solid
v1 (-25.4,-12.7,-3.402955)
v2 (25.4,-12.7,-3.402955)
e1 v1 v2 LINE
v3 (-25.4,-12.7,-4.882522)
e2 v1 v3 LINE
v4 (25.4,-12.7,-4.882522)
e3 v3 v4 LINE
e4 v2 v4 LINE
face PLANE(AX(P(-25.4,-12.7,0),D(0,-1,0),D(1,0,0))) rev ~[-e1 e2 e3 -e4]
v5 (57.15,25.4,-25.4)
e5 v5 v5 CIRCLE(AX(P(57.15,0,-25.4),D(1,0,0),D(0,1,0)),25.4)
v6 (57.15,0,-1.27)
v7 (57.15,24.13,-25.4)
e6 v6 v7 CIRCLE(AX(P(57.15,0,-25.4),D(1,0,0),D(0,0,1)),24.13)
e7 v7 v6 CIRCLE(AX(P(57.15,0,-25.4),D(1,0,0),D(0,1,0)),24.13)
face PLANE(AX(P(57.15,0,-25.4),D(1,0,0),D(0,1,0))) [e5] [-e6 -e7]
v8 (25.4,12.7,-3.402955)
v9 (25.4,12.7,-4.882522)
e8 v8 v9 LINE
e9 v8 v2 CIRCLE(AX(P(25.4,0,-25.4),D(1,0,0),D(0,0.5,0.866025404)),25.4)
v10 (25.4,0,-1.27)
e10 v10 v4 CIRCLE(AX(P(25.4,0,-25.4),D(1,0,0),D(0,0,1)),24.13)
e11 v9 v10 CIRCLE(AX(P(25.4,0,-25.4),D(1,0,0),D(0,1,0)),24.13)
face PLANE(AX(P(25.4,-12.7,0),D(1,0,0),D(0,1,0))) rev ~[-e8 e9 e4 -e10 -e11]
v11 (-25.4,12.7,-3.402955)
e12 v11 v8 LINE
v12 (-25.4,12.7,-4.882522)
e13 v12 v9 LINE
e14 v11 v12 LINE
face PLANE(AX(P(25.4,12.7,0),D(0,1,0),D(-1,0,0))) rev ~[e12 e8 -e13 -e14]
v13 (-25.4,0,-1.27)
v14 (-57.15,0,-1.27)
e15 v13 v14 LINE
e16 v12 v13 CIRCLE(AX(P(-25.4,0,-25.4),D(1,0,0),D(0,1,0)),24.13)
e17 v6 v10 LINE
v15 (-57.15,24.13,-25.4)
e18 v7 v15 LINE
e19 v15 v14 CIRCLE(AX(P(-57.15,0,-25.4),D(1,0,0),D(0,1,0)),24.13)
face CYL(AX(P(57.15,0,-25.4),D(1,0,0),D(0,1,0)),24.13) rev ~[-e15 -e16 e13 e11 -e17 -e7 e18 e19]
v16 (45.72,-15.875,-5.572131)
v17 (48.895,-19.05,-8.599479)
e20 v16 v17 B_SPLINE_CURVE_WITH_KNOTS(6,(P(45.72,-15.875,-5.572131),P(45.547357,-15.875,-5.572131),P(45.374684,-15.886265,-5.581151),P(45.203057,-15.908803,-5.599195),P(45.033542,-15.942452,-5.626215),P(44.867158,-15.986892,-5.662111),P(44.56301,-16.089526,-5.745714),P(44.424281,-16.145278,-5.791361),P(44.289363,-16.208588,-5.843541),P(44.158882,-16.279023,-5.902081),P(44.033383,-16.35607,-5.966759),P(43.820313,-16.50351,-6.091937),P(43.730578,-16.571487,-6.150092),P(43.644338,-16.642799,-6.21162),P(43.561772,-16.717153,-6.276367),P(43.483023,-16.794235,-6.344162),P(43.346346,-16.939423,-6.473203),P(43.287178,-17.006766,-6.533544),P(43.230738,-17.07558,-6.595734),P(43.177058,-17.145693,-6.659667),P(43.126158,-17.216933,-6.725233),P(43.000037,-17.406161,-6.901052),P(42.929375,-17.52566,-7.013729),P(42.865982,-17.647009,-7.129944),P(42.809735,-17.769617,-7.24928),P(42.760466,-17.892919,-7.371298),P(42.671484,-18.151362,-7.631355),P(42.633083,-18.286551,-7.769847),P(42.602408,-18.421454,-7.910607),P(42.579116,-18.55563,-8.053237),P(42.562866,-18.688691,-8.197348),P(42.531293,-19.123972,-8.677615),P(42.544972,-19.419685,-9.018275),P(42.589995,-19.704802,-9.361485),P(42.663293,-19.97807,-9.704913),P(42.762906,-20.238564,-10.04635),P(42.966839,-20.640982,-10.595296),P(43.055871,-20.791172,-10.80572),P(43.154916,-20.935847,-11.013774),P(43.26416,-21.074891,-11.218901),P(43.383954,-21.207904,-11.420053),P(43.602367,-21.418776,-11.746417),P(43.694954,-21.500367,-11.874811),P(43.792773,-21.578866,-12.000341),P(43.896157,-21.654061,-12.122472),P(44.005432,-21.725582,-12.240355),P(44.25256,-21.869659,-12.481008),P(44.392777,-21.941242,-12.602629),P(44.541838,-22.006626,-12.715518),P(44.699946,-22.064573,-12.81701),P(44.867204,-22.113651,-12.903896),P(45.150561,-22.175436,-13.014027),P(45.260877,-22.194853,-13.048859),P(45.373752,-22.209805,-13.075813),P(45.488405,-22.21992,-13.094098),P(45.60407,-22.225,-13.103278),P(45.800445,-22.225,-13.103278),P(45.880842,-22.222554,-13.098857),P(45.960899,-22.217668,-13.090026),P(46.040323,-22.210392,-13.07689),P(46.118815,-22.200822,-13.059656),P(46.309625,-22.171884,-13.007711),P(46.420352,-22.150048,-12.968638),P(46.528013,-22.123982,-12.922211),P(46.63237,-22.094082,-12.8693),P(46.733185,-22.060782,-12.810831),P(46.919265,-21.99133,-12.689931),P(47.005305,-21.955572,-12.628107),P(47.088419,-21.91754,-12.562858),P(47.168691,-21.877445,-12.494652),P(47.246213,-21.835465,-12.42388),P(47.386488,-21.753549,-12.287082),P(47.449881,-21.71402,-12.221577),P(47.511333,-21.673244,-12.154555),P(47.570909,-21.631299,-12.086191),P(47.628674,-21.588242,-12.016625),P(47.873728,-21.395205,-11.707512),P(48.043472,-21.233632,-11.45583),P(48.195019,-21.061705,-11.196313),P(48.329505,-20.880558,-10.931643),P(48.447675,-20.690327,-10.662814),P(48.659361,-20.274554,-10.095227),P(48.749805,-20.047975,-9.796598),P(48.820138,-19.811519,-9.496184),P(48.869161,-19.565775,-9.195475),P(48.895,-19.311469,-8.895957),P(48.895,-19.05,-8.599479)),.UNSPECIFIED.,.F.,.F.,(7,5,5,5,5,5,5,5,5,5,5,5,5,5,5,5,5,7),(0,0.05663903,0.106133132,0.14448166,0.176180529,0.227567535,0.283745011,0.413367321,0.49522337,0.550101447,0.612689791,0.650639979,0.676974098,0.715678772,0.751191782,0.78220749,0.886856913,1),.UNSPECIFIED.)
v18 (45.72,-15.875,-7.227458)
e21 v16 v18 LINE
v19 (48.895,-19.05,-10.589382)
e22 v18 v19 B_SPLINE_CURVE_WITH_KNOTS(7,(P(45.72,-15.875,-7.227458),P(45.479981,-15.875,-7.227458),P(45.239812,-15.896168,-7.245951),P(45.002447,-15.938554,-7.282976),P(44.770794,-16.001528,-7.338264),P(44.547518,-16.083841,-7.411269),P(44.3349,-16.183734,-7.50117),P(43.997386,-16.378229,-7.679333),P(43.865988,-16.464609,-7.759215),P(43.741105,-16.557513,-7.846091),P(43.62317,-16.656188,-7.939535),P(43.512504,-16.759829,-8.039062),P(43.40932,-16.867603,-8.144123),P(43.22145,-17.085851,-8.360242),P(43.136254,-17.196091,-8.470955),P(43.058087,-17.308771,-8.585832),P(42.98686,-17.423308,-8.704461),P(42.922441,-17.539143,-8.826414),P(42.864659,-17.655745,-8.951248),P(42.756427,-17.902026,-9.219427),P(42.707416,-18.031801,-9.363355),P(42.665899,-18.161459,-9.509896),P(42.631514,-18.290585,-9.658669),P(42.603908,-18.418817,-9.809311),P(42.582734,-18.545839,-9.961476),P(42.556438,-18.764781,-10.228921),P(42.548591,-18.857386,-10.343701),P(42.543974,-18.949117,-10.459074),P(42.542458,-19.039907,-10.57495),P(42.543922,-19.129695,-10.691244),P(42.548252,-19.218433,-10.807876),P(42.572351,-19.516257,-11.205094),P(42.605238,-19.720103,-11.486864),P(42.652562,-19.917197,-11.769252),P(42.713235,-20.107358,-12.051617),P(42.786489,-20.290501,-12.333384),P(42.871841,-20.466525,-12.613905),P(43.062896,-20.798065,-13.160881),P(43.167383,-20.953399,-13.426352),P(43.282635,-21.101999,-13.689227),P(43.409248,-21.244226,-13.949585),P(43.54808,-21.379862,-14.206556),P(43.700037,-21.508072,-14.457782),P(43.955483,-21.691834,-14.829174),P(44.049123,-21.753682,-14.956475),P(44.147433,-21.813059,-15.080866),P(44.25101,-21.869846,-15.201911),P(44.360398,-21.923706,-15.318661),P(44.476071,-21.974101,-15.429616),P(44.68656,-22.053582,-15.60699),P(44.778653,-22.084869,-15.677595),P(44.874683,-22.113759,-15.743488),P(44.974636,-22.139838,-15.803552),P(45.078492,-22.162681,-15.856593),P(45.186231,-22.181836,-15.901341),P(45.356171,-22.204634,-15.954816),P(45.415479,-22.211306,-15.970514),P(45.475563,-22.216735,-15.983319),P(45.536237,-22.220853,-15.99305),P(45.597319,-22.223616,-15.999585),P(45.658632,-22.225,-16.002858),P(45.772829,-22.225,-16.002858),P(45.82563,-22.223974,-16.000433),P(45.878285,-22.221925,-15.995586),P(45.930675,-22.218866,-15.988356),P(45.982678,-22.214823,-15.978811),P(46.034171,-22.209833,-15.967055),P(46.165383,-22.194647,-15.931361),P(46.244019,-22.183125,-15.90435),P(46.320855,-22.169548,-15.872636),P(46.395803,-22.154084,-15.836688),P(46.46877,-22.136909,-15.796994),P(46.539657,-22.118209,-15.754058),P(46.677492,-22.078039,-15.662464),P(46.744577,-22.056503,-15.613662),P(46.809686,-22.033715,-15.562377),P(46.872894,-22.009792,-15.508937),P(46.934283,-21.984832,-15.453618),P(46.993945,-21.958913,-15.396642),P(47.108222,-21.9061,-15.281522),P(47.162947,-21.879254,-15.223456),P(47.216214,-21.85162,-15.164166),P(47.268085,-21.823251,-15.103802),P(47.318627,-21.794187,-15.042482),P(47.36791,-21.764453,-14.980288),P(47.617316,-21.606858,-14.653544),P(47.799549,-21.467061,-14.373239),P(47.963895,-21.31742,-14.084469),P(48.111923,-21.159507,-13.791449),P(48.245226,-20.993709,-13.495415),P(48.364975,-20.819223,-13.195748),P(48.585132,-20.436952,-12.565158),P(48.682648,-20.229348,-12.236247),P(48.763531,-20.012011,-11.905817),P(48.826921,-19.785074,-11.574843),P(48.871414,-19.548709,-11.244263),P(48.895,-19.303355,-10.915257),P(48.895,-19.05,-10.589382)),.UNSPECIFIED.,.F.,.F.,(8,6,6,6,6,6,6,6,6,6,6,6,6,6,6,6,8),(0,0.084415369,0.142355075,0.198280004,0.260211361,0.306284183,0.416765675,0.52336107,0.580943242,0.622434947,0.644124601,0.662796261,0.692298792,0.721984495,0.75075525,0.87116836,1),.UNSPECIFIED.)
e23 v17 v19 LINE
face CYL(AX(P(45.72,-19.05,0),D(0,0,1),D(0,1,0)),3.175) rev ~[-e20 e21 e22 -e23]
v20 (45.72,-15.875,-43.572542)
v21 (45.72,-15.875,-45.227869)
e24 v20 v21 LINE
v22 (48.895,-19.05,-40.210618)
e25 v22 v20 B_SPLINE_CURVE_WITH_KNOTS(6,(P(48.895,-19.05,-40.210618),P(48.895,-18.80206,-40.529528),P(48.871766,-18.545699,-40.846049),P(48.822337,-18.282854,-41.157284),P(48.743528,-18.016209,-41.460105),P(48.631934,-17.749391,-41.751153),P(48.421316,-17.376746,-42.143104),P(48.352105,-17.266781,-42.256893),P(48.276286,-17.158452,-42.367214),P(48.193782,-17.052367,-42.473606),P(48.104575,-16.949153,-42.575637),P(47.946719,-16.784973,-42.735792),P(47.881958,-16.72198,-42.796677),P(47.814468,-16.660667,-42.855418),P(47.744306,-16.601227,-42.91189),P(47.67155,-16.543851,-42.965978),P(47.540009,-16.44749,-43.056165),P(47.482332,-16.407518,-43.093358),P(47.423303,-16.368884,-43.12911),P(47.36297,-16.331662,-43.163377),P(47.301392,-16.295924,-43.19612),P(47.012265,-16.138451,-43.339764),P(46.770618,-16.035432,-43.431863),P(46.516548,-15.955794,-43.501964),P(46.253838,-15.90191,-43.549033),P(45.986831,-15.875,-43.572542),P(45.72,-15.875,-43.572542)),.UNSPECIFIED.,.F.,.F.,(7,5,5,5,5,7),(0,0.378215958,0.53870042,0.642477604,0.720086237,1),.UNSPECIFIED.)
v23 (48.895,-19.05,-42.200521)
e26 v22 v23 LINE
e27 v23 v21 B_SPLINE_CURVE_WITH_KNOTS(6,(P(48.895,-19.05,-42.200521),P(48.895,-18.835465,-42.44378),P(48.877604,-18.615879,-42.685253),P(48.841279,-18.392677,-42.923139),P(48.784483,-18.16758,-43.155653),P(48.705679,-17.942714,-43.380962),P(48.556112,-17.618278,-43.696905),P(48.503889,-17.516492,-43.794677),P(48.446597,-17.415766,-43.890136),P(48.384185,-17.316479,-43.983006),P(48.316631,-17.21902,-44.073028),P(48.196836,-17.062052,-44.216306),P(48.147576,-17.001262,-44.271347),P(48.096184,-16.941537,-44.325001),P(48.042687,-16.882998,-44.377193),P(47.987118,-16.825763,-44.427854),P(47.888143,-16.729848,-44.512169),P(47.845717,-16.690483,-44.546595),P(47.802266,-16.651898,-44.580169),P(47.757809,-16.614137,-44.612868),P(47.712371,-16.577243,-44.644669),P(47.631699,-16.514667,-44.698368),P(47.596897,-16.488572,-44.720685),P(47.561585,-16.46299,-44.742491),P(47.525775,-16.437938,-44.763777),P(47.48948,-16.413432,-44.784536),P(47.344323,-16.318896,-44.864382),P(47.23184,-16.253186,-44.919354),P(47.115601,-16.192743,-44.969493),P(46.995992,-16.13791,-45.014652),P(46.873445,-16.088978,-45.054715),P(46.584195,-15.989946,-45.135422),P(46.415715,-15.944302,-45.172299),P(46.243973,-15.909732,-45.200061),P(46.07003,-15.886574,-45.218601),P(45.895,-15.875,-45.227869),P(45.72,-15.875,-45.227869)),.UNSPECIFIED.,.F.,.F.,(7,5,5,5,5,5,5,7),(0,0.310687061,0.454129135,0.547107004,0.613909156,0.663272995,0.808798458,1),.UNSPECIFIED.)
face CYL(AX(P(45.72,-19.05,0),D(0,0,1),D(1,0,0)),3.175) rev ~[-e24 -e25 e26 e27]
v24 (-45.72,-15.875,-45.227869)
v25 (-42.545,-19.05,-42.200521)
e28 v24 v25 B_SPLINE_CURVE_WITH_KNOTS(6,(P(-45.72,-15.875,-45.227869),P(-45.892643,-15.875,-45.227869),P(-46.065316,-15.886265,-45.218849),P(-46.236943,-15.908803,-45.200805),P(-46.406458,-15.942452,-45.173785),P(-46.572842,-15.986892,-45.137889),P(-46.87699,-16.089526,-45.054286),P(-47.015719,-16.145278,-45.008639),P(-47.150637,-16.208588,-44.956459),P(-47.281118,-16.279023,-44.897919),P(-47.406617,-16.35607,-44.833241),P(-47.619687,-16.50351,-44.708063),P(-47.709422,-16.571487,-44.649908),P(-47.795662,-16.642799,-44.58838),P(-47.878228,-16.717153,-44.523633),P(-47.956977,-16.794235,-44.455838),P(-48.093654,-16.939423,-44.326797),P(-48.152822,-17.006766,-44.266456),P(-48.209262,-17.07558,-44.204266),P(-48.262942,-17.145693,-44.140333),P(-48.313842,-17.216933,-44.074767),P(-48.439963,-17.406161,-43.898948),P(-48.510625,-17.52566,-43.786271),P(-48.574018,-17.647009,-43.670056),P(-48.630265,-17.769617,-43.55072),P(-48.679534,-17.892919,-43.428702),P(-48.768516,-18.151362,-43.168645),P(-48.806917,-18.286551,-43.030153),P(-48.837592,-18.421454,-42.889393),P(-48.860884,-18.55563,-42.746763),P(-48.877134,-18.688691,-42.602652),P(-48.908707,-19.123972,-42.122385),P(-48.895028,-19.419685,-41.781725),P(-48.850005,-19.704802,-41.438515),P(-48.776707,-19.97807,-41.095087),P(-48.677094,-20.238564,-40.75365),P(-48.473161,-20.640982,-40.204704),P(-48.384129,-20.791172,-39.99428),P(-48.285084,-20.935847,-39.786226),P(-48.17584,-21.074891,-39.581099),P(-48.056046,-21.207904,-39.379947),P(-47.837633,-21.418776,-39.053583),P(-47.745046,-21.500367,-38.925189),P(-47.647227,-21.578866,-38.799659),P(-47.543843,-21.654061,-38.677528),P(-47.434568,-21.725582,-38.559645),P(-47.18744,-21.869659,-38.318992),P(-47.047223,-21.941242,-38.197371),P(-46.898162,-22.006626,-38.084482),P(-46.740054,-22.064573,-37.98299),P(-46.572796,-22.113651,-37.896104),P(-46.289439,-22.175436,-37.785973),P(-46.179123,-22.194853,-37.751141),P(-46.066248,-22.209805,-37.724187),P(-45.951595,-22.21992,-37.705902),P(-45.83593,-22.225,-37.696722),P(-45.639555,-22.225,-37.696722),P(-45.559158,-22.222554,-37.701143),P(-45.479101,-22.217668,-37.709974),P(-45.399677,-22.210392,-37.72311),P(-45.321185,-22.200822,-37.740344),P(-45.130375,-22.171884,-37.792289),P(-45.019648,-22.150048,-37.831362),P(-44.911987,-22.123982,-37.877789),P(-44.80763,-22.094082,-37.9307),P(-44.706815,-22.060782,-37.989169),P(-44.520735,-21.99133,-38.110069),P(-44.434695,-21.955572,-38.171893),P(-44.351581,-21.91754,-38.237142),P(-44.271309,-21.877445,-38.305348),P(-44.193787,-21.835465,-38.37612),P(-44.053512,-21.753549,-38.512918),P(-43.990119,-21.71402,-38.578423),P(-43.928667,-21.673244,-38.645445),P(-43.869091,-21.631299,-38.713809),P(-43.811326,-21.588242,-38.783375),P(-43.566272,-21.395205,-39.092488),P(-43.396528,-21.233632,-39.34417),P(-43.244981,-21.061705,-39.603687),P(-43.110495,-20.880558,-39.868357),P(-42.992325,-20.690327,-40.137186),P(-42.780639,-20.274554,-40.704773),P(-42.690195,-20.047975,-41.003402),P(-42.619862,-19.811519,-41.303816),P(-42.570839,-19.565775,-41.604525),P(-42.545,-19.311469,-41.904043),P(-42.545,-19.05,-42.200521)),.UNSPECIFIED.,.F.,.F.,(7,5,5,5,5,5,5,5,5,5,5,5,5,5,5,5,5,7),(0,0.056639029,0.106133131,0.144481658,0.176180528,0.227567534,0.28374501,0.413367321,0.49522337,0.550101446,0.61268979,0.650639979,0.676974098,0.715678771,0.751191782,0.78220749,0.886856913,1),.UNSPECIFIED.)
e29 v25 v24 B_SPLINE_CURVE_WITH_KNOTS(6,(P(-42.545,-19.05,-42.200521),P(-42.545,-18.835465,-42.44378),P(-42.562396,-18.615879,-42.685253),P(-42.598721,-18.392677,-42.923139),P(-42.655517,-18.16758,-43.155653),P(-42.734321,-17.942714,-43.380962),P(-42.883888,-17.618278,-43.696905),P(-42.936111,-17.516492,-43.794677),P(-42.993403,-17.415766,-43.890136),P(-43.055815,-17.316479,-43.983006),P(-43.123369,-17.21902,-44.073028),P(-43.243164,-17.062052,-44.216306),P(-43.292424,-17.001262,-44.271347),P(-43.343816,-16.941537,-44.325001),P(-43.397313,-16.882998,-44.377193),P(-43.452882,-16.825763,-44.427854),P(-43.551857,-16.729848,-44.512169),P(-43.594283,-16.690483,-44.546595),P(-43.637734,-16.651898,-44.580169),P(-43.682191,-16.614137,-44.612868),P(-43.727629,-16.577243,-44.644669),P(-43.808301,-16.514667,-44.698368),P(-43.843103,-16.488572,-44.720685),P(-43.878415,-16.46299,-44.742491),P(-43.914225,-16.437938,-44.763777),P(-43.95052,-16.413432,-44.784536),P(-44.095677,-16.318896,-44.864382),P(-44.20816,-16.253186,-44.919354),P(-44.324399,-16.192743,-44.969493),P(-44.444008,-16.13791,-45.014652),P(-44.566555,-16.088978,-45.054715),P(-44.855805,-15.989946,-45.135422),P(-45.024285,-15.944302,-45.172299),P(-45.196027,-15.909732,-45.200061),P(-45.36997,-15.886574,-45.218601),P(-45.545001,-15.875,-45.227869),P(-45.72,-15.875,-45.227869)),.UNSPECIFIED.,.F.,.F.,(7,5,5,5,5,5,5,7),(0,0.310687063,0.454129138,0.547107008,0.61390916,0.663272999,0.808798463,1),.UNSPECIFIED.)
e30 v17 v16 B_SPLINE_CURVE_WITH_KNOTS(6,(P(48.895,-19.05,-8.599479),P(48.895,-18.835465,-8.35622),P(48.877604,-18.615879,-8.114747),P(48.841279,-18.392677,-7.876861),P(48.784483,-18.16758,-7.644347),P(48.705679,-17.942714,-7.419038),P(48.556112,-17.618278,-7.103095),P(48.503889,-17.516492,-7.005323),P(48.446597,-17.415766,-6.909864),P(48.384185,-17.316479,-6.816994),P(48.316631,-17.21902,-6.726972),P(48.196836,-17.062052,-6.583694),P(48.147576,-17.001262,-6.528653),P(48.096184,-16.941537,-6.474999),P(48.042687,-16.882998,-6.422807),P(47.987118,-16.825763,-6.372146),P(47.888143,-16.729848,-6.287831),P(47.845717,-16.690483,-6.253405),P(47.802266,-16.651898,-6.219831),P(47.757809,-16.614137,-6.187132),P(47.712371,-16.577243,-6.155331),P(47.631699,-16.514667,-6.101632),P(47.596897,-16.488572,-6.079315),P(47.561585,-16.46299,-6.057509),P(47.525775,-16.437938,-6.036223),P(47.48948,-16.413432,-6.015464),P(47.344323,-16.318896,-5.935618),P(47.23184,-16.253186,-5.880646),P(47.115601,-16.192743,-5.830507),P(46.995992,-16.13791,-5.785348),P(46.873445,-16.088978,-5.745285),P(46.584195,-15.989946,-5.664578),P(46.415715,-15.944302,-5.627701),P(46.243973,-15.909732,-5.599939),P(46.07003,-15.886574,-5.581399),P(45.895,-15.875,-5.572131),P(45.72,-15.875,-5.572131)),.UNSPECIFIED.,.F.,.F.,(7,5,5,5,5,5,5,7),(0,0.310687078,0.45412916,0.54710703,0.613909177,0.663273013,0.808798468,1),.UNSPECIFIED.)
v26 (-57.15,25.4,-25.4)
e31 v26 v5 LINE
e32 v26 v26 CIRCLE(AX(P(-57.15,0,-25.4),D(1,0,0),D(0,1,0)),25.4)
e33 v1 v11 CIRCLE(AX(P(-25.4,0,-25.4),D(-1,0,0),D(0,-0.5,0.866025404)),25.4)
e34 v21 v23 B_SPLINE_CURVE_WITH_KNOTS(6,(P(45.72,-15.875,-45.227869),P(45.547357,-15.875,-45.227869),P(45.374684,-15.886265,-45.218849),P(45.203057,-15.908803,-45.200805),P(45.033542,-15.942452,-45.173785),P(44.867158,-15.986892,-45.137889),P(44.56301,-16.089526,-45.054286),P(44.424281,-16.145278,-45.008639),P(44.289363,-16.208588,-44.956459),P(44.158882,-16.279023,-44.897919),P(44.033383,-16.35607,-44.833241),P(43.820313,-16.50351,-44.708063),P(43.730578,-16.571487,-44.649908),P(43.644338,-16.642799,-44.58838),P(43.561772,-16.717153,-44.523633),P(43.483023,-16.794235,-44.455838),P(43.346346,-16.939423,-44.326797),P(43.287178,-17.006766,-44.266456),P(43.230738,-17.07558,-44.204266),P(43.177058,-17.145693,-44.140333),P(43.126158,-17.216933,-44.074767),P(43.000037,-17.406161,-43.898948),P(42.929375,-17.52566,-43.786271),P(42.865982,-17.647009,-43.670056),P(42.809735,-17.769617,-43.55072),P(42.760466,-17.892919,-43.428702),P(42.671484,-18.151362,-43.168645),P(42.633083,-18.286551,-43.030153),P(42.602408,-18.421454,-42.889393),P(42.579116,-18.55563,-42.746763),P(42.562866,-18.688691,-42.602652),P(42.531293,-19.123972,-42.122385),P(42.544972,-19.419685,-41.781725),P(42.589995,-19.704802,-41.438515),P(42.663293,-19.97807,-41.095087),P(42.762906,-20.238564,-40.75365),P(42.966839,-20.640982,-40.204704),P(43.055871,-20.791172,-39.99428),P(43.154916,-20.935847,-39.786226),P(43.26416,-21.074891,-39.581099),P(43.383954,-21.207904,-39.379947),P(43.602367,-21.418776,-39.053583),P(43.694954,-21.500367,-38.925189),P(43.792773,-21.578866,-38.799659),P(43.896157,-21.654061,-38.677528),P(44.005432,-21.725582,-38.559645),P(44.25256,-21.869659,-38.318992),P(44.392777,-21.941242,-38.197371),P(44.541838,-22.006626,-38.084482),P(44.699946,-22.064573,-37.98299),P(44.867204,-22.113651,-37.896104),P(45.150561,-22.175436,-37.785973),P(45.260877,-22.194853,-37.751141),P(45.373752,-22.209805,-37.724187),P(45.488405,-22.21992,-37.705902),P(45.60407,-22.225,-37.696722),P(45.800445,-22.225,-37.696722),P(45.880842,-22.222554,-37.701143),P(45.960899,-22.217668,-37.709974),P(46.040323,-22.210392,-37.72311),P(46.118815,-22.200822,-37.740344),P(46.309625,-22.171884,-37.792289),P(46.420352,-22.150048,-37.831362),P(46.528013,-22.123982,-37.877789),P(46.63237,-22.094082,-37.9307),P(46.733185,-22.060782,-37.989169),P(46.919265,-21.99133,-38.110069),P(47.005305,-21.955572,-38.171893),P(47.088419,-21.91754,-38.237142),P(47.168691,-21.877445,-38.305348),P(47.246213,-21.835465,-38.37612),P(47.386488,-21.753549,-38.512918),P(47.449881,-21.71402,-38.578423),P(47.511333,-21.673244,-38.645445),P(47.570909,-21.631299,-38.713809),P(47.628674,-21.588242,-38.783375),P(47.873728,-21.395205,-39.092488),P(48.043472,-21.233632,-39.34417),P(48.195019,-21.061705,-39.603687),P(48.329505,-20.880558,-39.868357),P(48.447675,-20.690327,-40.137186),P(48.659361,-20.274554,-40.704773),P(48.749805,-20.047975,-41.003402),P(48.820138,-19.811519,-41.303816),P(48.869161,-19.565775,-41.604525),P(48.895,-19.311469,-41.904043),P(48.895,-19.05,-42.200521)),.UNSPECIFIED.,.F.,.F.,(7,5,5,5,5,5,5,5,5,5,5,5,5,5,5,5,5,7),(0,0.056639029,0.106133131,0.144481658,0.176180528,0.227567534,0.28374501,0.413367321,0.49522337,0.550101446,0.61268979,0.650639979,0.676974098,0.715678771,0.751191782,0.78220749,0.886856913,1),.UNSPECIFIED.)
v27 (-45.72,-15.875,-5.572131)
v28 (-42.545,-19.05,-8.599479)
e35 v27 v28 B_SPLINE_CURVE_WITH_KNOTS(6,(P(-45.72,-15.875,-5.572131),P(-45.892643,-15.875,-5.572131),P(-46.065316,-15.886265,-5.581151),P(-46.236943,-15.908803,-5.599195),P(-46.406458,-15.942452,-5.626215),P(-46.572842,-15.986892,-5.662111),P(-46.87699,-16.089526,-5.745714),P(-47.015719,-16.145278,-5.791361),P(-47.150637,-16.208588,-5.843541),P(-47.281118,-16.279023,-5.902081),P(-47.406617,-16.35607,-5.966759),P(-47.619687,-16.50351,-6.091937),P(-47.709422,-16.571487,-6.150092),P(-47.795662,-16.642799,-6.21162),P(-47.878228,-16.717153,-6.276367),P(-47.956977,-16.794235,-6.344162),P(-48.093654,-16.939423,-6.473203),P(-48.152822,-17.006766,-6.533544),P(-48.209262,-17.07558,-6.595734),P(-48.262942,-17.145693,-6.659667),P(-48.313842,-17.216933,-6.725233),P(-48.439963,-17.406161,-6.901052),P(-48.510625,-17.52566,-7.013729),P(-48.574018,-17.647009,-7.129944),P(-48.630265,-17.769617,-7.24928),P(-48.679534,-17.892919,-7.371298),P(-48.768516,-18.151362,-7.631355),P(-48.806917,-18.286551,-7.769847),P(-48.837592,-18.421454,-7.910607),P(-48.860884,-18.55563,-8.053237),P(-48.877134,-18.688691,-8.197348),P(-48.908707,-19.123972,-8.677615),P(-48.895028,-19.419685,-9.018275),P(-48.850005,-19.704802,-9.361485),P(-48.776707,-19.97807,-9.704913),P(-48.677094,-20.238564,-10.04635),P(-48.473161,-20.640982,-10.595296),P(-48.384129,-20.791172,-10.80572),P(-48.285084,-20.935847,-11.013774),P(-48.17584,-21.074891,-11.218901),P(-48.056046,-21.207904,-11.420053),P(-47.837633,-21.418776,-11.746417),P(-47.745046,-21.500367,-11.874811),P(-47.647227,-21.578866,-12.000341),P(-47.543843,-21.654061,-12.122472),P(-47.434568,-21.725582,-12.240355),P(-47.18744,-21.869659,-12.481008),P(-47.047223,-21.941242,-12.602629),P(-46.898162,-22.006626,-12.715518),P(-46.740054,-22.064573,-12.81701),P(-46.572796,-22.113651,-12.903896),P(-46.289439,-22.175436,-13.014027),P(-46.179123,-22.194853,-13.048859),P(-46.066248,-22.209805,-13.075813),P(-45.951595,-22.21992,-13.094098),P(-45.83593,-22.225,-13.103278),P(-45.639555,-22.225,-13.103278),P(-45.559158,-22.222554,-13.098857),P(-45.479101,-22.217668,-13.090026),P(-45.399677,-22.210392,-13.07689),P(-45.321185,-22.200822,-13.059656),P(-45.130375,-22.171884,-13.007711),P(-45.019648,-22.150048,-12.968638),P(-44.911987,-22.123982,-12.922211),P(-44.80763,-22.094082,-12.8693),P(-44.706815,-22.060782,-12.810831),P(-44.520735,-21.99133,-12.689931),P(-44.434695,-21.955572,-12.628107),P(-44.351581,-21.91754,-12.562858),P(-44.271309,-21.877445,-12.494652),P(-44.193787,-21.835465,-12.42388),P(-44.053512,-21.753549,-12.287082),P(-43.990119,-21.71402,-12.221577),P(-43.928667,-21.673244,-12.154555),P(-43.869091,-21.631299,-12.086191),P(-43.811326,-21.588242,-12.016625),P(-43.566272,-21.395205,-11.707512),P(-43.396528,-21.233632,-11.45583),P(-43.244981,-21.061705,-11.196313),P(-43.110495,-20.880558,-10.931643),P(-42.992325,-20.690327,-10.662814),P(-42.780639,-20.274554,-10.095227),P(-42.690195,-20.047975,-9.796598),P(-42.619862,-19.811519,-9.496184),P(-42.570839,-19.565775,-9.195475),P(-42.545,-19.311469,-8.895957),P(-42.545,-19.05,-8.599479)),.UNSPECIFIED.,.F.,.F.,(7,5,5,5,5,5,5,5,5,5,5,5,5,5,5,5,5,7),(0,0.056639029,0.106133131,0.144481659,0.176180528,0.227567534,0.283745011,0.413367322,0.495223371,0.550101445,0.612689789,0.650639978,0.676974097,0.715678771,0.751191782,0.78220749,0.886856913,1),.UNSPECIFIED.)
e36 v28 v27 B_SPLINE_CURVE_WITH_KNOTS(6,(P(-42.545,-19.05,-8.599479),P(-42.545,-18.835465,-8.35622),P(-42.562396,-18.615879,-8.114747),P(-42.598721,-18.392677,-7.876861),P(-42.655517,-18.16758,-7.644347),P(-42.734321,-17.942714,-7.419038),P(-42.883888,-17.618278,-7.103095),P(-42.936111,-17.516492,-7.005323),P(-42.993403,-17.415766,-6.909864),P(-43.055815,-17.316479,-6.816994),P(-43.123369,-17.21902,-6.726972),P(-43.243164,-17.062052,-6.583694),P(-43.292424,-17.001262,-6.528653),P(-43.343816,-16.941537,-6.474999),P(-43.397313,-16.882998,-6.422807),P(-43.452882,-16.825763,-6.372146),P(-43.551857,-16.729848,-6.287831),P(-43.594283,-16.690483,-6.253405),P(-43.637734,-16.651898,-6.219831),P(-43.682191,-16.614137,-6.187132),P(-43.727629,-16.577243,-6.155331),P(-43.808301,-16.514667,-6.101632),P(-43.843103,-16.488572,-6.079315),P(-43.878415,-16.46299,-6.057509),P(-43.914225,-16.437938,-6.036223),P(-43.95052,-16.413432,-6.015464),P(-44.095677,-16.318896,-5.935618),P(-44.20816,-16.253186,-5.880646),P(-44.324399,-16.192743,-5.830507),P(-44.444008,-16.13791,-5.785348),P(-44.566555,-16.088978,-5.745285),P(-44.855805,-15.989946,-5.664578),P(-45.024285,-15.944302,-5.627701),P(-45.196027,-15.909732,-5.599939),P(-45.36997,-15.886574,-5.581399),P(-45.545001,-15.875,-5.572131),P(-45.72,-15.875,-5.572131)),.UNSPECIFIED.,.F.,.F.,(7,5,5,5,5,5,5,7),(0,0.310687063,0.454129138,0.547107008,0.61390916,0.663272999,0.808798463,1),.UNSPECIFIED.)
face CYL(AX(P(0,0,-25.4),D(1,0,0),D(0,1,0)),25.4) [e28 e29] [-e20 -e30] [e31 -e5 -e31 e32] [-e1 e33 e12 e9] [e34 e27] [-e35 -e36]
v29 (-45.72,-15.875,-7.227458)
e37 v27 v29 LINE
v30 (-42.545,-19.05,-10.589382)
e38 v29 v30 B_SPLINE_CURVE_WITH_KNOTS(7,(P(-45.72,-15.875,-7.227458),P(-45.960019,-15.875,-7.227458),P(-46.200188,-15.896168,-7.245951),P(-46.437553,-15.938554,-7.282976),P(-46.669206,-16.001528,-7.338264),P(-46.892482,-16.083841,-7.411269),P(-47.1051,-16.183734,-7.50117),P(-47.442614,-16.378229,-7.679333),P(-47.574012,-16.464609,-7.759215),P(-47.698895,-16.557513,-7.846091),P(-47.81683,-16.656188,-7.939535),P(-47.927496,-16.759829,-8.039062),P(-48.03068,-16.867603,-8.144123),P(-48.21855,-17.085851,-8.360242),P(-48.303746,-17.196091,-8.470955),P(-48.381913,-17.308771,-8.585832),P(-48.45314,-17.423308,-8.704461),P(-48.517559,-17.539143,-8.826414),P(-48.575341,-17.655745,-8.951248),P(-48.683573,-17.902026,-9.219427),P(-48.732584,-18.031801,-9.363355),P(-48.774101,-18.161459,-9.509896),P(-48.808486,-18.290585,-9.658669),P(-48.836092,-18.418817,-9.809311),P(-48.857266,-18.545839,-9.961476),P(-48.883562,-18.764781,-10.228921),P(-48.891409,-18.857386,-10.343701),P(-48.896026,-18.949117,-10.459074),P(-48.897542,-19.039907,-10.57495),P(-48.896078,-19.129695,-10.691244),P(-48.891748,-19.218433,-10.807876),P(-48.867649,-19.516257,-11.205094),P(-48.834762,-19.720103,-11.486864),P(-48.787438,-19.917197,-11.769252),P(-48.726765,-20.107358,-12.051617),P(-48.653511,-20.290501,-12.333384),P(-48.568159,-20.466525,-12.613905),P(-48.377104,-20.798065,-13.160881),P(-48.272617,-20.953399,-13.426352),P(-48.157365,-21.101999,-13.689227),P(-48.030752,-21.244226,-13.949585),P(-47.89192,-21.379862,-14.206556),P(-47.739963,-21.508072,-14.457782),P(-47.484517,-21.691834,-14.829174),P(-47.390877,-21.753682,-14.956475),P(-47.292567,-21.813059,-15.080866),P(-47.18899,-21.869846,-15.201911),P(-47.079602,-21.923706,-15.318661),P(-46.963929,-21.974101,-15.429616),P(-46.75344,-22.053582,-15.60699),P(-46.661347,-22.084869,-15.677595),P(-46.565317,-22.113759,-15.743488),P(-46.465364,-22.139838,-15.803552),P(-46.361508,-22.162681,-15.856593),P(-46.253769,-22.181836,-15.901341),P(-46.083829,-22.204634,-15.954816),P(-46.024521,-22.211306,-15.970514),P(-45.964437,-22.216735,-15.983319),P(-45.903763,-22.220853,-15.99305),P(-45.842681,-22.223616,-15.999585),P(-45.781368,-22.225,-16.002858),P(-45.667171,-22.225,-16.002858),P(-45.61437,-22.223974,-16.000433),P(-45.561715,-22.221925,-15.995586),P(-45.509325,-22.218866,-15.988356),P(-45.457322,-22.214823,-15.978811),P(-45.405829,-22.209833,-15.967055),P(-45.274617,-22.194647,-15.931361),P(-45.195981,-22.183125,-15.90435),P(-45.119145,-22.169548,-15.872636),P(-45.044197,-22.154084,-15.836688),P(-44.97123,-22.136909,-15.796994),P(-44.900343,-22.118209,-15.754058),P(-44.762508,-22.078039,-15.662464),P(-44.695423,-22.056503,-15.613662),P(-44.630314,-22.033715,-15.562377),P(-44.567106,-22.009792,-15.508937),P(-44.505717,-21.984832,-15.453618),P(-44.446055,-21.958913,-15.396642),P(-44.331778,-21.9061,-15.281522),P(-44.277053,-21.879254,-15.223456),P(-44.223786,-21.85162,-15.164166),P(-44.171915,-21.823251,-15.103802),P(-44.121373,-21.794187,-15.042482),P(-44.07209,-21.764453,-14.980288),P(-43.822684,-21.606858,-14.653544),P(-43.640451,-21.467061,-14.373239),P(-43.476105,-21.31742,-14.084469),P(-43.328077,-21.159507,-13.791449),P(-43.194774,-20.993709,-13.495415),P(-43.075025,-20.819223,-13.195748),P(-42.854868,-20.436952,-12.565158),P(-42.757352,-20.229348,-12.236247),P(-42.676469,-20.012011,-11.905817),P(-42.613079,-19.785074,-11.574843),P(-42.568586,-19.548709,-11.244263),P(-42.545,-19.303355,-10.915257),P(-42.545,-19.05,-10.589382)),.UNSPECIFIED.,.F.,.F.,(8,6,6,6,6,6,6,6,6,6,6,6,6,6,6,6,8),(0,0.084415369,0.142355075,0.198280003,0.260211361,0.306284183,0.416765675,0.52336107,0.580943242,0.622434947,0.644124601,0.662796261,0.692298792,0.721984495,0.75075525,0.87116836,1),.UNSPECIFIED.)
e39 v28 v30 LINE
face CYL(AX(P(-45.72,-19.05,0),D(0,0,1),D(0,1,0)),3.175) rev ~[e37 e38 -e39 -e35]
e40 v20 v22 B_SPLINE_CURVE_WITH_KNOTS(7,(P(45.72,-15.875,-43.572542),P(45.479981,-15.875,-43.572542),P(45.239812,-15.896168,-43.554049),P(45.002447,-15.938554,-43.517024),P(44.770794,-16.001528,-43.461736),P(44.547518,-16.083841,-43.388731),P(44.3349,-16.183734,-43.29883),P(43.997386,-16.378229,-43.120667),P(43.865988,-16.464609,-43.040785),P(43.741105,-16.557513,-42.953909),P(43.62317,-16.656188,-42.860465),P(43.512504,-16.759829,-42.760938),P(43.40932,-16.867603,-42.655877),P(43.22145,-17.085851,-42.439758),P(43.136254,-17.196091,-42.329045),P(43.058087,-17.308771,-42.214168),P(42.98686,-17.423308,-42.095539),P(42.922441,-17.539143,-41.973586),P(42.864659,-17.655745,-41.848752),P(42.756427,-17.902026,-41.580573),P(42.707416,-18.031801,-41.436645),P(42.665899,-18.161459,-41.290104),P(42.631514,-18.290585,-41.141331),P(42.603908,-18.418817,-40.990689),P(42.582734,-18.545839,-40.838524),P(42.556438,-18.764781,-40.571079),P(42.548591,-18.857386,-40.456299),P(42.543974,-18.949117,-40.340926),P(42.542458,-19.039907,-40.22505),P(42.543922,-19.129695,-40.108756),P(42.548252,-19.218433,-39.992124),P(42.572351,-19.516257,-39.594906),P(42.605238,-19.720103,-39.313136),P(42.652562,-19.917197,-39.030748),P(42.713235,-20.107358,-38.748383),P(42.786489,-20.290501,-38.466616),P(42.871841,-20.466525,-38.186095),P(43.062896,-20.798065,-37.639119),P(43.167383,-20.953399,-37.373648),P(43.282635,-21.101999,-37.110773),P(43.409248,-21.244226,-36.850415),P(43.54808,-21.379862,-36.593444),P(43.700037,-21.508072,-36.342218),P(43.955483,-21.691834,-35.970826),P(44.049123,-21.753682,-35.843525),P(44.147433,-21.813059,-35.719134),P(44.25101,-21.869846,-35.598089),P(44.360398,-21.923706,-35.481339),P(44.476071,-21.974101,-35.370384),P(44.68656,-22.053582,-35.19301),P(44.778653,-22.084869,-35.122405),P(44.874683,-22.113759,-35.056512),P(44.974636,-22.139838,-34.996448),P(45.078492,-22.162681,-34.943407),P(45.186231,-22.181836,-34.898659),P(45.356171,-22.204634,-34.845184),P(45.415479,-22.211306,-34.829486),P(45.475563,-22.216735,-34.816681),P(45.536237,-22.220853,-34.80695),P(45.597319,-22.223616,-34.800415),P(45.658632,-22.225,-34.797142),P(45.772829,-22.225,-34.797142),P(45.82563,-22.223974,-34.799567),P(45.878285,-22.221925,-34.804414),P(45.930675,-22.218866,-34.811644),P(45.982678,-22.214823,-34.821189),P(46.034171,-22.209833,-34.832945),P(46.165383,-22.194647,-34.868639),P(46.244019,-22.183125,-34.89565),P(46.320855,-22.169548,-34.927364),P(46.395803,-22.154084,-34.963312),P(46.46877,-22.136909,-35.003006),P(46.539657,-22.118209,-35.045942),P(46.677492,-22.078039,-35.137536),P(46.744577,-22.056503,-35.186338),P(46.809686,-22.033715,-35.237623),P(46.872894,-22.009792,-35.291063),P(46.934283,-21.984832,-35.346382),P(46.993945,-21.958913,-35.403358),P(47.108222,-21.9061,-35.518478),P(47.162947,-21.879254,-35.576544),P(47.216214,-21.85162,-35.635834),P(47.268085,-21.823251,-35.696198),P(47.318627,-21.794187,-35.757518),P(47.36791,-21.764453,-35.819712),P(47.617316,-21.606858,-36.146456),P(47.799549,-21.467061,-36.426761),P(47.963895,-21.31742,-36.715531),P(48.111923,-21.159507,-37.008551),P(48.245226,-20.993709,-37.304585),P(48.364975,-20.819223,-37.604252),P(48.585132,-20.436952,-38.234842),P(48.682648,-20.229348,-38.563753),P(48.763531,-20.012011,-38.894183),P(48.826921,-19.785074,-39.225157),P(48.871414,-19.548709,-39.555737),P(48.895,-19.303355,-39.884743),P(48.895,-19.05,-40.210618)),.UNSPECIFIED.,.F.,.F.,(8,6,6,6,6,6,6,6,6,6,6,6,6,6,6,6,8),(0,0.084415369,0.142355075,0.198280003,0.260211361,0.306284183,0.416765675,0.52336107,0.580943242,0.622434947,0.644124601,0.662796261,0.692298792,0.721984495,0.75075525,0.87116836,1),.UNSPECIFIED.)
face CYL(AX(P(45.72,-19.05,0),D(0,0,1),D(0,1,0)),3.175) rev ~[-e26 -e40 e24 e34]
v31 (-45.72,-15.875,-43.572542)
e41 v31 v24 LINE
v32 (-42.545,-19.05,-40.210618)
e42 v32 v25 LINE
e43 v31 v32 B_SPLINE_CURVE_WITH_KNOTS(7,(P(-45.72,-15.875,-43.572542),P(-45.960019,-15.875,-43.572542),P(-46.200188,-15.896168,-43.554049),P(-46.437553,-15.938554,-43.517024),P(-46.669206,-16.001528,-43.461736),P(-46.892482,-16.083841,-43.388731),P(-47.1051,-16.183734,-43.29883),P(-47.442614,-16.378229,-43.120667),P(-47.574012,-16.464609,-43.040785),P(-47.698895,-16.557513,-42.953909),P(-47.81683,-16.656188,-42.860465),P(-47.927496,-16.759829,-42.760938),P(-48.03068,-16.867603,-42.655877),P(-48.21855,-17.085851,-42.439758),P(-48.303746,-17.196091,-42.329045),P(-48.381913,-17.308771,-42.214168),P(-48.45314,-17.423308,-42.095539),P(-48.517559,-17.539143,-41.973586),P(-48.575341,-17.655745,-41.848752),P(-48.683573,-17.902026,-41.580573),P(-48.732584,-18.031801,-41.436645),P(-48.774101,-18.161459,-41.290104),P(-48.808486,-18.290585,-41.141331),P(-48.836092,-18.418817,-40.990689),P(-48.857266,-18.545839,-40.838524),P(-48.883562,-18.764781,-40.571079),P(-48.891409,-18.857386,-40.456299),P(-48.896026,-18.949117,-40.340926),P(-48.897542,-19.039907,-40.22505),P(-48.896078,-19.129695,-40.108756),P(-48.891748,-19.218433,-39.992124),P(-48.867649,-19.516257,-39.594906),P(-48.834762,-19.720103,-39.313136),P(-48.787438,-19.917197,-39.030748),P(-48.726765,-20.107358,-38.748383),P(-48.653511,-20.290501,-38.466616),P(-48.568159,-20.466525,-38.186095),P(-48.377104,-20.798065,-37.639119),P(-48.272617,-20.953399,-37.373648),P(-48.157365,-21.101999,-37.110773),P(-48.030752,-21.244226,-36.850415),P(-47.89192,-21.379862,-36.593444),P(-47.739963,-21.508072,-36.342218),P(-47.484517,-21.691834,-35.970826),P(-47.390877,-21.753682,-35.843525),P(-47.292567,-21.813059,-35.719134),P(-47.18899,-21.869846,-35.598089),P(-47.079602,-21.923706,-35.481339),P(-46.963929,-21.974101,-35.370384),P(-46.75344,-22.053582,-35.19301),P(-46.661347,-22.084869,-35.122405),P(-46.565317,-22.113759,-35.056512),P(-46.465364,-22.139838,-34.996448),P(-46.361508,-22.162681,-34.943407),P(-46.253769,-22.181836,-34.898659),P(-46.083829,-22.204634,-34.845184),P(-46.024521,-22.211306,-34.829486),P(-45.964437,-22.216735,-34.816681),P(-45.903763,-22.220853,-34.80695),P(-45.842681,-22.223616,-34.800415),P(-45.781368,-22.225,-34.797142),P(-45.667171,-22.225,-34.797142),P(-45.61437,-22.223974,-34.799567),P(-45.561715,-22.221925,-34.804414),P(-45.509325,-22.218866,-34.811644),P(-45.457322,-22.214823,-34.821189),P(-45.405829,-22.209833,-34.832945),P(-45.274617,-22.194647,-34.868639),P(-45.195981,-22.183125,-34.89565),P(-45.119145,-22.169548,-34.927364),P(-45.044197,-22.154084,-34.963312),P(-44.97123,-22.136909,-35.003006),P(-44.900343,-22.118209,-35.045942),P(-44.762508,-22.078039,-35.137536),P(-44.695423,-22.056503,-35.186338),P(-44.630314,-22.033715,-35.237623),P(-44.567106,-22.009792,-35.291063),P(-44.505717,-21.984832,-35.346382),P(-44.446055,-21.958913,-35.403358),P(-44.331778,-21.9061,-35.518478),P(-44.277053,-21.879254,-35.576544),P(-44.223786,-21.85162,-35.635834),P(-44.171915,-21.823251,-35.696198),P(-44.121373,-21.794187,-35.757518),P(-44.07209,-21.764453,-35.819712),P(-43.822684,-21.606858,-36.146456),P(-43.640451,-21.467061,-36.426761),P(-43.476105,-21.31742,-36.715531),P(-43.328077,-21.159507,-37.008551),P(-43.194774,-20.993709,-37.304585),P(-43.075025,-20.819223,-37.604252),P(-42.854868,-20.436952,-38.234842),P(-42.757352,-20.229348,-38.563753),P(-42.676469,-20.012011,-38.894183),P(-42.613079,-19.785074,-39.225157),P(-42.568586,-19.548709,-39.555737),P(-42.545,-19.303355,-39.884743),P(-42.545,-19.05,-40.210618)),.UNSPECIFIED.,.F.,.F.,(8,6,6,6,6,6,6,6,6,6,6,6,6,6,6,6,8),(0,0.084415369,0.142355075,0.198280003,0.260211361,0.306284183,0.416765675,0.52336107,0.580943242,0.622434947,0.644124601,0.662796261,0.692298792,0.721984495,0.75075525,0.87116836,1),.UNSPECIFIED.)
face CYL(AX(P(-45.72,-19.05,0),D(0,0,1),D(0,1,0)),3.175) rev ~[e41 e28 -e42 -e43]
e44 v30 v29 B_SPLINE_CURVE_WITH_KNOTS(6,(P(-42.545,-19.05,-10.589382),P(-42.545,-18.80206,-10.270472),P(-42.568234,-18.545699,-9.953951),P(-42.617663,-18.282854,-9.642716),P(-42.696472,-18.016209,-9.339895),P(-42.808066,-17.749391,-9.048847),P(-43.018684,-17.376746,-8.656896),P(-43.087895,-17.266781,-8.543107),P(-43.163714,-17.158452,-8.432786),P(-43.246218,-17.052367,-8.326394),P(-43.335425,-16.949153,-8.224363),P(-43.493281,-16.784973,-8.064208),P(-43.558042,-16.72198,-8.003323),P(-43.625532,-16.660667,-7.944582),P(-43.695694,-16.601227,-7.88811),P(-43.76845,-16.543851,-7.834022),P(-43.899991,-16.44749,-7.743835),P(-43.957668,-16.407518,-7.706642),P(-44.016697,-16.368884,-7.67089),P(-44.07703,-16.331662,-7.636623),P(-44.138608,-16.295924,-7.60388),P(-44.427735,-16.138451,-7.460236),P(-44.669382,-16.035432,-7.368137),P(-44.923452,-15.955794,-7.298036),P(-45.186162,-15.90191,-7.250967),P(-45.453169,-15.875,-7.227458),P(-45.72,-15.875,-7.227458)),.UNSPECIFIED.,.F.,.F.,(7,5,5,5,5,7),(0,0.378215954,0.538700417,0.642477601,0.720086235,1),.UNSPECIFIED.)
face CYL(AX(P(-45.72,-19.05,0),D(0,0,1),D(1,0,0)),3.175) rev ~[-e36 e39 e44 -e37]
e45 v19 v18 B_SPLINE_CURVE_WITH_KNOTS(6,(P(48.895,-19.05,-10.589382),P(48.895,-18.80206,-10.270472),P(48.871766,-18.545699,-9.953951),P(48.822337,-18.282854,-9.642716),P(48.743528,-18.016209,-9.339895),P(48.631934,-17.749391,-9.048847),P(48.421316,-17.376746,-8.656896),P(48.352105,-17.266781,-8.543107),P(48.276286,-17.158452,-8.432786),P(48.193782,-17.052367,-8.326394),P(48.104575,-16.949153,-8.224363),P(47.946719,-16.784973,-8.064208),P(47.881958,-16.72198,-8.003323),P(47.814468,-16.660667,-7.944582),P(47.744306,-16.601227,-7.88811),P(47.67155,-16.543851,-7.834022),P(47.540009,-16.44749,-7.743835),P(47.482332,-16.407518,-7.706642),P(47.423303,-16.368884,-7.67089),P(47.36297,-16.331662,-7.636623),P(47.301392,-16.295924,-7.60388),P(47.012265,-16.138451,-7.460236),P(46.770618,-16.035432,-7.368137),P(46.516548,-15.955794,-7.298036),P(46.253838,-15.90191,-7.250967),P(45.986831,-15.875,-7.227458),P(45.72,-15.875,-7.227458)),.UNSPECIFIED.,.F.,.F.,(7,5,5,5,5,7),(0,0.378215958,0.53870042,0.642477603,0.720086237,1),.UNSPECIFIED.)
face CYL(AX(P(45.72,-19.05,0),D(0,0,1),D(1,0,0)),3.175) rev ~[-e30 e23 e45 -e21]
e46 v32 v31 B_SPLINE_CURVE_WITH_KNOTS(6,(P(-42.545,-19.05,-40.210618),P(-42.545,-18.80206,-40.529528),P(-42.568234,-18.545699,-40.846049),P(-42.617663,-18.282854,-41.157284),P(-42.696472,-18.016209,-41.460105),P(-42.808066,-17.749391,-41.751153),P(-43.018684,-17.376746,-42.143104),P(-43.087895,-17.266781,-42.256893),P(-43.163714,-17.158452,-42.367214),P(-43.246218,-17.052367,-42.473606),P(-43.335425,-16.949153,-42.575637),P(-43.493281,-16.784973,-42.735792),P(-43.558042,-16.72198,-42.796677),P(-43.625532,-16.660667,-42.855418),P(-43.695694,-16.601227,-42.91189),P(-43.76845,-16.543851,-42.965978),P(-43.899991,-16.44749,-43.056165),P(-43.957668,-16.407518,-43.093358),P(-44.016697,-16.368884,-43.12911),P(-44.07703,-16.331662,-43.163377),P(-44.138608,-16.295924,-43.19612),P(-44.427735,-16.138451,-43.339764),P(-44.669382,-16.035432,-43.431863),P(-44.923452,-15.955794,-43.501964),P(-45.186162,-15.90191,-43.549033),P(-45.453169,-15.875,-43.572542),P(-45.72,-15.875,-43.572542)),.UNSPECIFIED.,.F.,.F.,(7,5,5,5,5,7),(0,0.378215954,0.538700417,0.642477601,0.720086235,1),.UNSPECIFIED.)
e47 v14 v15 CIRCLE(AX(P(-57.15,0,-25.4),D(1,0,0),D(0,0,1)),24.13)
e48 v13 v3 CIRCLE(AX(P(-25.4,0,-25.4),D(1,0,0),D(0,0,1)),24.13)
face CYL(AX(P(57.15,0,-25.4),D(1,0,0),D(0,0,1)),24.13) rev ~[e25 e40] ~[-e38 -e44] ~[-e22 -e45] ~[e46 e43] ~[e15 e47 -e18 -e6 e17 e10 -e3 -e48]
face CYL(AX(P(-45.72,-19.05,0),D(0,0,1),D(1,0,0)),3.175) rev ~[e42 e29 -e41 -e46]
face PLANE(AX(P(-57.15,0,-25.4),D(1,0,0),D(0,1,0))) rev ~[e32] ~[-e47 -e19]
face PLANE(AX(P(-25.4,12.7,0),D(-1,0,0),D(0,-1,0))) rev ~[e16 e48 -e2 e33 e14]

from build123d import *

# Parameters (mm, degrees)
F0_R     = 25.4
F1_DEPTH = 57.15
F3_DEPTH = 25.4
F5_DEPTH = 114.3
F7_DEPTH = 76.2


with BuildPart() as f1:
    # F0 (on Right) → F1 (new body, symmetric)
    with BuildSketch(Plane.YZ):
        with Locations((0, -25.4)):
            Circle(F0_R)
    extrude(amount=F1_DEPTH, both=True)

    # F2 (on Top) → F3 (cut)
    with BuildSketch(Plane.XY):
        Polygon((-25.4, 12.7), (-25.4, 0), (-25.4, -12.7), (25.4, -12.7), (25.4, 0), (25.4, 12.7), align=None)
    extrude(amount=-F3_DEPTH, mode=Mode.SUBTRACT)

    # F4 (on face) → F5 (cut)
    with BuildSketch(Plane.YZ.offset(57.15)):
        with BuildLine():
            ThreePointArc((24.13, -25.4), (17.06248663, -8.33751337), (0, -1.27))
            ThreePointArc((0, -1.27), (-17.06248663, -42.46248663), (24.13, -25.4))
        make_face()
    extrude(amount=-F5_DEPTH, mode=Mode.SUBTRACT)

    # F6 (on Top) → F7 (cut)
    with BuildSketch(Plane.XY):
        with BuildLine():
            ThreePointArc((-42.545, -19.05), (-43.4749359697, -16.8049359697), (-45.72, -15.875))
            ThreePointArc((-45.72, -15.875), (-47.9650640303, -21.2950640303), (-42.545, -19.05))
        make_face()
        with BuildLine():
            ThreePointArc((48.895, -19.05), (47.9650640303, -16.8049359697), (45.72, -15.875))
            ThreePointArc((45.72, -15.875), (43.4749359697, -21.2950640303), (48.895, -19.05))
        make_face()
    extrude(amount=-F7_DEPTH, mode=Mode.SUBTRACT)


solid = f1.part
